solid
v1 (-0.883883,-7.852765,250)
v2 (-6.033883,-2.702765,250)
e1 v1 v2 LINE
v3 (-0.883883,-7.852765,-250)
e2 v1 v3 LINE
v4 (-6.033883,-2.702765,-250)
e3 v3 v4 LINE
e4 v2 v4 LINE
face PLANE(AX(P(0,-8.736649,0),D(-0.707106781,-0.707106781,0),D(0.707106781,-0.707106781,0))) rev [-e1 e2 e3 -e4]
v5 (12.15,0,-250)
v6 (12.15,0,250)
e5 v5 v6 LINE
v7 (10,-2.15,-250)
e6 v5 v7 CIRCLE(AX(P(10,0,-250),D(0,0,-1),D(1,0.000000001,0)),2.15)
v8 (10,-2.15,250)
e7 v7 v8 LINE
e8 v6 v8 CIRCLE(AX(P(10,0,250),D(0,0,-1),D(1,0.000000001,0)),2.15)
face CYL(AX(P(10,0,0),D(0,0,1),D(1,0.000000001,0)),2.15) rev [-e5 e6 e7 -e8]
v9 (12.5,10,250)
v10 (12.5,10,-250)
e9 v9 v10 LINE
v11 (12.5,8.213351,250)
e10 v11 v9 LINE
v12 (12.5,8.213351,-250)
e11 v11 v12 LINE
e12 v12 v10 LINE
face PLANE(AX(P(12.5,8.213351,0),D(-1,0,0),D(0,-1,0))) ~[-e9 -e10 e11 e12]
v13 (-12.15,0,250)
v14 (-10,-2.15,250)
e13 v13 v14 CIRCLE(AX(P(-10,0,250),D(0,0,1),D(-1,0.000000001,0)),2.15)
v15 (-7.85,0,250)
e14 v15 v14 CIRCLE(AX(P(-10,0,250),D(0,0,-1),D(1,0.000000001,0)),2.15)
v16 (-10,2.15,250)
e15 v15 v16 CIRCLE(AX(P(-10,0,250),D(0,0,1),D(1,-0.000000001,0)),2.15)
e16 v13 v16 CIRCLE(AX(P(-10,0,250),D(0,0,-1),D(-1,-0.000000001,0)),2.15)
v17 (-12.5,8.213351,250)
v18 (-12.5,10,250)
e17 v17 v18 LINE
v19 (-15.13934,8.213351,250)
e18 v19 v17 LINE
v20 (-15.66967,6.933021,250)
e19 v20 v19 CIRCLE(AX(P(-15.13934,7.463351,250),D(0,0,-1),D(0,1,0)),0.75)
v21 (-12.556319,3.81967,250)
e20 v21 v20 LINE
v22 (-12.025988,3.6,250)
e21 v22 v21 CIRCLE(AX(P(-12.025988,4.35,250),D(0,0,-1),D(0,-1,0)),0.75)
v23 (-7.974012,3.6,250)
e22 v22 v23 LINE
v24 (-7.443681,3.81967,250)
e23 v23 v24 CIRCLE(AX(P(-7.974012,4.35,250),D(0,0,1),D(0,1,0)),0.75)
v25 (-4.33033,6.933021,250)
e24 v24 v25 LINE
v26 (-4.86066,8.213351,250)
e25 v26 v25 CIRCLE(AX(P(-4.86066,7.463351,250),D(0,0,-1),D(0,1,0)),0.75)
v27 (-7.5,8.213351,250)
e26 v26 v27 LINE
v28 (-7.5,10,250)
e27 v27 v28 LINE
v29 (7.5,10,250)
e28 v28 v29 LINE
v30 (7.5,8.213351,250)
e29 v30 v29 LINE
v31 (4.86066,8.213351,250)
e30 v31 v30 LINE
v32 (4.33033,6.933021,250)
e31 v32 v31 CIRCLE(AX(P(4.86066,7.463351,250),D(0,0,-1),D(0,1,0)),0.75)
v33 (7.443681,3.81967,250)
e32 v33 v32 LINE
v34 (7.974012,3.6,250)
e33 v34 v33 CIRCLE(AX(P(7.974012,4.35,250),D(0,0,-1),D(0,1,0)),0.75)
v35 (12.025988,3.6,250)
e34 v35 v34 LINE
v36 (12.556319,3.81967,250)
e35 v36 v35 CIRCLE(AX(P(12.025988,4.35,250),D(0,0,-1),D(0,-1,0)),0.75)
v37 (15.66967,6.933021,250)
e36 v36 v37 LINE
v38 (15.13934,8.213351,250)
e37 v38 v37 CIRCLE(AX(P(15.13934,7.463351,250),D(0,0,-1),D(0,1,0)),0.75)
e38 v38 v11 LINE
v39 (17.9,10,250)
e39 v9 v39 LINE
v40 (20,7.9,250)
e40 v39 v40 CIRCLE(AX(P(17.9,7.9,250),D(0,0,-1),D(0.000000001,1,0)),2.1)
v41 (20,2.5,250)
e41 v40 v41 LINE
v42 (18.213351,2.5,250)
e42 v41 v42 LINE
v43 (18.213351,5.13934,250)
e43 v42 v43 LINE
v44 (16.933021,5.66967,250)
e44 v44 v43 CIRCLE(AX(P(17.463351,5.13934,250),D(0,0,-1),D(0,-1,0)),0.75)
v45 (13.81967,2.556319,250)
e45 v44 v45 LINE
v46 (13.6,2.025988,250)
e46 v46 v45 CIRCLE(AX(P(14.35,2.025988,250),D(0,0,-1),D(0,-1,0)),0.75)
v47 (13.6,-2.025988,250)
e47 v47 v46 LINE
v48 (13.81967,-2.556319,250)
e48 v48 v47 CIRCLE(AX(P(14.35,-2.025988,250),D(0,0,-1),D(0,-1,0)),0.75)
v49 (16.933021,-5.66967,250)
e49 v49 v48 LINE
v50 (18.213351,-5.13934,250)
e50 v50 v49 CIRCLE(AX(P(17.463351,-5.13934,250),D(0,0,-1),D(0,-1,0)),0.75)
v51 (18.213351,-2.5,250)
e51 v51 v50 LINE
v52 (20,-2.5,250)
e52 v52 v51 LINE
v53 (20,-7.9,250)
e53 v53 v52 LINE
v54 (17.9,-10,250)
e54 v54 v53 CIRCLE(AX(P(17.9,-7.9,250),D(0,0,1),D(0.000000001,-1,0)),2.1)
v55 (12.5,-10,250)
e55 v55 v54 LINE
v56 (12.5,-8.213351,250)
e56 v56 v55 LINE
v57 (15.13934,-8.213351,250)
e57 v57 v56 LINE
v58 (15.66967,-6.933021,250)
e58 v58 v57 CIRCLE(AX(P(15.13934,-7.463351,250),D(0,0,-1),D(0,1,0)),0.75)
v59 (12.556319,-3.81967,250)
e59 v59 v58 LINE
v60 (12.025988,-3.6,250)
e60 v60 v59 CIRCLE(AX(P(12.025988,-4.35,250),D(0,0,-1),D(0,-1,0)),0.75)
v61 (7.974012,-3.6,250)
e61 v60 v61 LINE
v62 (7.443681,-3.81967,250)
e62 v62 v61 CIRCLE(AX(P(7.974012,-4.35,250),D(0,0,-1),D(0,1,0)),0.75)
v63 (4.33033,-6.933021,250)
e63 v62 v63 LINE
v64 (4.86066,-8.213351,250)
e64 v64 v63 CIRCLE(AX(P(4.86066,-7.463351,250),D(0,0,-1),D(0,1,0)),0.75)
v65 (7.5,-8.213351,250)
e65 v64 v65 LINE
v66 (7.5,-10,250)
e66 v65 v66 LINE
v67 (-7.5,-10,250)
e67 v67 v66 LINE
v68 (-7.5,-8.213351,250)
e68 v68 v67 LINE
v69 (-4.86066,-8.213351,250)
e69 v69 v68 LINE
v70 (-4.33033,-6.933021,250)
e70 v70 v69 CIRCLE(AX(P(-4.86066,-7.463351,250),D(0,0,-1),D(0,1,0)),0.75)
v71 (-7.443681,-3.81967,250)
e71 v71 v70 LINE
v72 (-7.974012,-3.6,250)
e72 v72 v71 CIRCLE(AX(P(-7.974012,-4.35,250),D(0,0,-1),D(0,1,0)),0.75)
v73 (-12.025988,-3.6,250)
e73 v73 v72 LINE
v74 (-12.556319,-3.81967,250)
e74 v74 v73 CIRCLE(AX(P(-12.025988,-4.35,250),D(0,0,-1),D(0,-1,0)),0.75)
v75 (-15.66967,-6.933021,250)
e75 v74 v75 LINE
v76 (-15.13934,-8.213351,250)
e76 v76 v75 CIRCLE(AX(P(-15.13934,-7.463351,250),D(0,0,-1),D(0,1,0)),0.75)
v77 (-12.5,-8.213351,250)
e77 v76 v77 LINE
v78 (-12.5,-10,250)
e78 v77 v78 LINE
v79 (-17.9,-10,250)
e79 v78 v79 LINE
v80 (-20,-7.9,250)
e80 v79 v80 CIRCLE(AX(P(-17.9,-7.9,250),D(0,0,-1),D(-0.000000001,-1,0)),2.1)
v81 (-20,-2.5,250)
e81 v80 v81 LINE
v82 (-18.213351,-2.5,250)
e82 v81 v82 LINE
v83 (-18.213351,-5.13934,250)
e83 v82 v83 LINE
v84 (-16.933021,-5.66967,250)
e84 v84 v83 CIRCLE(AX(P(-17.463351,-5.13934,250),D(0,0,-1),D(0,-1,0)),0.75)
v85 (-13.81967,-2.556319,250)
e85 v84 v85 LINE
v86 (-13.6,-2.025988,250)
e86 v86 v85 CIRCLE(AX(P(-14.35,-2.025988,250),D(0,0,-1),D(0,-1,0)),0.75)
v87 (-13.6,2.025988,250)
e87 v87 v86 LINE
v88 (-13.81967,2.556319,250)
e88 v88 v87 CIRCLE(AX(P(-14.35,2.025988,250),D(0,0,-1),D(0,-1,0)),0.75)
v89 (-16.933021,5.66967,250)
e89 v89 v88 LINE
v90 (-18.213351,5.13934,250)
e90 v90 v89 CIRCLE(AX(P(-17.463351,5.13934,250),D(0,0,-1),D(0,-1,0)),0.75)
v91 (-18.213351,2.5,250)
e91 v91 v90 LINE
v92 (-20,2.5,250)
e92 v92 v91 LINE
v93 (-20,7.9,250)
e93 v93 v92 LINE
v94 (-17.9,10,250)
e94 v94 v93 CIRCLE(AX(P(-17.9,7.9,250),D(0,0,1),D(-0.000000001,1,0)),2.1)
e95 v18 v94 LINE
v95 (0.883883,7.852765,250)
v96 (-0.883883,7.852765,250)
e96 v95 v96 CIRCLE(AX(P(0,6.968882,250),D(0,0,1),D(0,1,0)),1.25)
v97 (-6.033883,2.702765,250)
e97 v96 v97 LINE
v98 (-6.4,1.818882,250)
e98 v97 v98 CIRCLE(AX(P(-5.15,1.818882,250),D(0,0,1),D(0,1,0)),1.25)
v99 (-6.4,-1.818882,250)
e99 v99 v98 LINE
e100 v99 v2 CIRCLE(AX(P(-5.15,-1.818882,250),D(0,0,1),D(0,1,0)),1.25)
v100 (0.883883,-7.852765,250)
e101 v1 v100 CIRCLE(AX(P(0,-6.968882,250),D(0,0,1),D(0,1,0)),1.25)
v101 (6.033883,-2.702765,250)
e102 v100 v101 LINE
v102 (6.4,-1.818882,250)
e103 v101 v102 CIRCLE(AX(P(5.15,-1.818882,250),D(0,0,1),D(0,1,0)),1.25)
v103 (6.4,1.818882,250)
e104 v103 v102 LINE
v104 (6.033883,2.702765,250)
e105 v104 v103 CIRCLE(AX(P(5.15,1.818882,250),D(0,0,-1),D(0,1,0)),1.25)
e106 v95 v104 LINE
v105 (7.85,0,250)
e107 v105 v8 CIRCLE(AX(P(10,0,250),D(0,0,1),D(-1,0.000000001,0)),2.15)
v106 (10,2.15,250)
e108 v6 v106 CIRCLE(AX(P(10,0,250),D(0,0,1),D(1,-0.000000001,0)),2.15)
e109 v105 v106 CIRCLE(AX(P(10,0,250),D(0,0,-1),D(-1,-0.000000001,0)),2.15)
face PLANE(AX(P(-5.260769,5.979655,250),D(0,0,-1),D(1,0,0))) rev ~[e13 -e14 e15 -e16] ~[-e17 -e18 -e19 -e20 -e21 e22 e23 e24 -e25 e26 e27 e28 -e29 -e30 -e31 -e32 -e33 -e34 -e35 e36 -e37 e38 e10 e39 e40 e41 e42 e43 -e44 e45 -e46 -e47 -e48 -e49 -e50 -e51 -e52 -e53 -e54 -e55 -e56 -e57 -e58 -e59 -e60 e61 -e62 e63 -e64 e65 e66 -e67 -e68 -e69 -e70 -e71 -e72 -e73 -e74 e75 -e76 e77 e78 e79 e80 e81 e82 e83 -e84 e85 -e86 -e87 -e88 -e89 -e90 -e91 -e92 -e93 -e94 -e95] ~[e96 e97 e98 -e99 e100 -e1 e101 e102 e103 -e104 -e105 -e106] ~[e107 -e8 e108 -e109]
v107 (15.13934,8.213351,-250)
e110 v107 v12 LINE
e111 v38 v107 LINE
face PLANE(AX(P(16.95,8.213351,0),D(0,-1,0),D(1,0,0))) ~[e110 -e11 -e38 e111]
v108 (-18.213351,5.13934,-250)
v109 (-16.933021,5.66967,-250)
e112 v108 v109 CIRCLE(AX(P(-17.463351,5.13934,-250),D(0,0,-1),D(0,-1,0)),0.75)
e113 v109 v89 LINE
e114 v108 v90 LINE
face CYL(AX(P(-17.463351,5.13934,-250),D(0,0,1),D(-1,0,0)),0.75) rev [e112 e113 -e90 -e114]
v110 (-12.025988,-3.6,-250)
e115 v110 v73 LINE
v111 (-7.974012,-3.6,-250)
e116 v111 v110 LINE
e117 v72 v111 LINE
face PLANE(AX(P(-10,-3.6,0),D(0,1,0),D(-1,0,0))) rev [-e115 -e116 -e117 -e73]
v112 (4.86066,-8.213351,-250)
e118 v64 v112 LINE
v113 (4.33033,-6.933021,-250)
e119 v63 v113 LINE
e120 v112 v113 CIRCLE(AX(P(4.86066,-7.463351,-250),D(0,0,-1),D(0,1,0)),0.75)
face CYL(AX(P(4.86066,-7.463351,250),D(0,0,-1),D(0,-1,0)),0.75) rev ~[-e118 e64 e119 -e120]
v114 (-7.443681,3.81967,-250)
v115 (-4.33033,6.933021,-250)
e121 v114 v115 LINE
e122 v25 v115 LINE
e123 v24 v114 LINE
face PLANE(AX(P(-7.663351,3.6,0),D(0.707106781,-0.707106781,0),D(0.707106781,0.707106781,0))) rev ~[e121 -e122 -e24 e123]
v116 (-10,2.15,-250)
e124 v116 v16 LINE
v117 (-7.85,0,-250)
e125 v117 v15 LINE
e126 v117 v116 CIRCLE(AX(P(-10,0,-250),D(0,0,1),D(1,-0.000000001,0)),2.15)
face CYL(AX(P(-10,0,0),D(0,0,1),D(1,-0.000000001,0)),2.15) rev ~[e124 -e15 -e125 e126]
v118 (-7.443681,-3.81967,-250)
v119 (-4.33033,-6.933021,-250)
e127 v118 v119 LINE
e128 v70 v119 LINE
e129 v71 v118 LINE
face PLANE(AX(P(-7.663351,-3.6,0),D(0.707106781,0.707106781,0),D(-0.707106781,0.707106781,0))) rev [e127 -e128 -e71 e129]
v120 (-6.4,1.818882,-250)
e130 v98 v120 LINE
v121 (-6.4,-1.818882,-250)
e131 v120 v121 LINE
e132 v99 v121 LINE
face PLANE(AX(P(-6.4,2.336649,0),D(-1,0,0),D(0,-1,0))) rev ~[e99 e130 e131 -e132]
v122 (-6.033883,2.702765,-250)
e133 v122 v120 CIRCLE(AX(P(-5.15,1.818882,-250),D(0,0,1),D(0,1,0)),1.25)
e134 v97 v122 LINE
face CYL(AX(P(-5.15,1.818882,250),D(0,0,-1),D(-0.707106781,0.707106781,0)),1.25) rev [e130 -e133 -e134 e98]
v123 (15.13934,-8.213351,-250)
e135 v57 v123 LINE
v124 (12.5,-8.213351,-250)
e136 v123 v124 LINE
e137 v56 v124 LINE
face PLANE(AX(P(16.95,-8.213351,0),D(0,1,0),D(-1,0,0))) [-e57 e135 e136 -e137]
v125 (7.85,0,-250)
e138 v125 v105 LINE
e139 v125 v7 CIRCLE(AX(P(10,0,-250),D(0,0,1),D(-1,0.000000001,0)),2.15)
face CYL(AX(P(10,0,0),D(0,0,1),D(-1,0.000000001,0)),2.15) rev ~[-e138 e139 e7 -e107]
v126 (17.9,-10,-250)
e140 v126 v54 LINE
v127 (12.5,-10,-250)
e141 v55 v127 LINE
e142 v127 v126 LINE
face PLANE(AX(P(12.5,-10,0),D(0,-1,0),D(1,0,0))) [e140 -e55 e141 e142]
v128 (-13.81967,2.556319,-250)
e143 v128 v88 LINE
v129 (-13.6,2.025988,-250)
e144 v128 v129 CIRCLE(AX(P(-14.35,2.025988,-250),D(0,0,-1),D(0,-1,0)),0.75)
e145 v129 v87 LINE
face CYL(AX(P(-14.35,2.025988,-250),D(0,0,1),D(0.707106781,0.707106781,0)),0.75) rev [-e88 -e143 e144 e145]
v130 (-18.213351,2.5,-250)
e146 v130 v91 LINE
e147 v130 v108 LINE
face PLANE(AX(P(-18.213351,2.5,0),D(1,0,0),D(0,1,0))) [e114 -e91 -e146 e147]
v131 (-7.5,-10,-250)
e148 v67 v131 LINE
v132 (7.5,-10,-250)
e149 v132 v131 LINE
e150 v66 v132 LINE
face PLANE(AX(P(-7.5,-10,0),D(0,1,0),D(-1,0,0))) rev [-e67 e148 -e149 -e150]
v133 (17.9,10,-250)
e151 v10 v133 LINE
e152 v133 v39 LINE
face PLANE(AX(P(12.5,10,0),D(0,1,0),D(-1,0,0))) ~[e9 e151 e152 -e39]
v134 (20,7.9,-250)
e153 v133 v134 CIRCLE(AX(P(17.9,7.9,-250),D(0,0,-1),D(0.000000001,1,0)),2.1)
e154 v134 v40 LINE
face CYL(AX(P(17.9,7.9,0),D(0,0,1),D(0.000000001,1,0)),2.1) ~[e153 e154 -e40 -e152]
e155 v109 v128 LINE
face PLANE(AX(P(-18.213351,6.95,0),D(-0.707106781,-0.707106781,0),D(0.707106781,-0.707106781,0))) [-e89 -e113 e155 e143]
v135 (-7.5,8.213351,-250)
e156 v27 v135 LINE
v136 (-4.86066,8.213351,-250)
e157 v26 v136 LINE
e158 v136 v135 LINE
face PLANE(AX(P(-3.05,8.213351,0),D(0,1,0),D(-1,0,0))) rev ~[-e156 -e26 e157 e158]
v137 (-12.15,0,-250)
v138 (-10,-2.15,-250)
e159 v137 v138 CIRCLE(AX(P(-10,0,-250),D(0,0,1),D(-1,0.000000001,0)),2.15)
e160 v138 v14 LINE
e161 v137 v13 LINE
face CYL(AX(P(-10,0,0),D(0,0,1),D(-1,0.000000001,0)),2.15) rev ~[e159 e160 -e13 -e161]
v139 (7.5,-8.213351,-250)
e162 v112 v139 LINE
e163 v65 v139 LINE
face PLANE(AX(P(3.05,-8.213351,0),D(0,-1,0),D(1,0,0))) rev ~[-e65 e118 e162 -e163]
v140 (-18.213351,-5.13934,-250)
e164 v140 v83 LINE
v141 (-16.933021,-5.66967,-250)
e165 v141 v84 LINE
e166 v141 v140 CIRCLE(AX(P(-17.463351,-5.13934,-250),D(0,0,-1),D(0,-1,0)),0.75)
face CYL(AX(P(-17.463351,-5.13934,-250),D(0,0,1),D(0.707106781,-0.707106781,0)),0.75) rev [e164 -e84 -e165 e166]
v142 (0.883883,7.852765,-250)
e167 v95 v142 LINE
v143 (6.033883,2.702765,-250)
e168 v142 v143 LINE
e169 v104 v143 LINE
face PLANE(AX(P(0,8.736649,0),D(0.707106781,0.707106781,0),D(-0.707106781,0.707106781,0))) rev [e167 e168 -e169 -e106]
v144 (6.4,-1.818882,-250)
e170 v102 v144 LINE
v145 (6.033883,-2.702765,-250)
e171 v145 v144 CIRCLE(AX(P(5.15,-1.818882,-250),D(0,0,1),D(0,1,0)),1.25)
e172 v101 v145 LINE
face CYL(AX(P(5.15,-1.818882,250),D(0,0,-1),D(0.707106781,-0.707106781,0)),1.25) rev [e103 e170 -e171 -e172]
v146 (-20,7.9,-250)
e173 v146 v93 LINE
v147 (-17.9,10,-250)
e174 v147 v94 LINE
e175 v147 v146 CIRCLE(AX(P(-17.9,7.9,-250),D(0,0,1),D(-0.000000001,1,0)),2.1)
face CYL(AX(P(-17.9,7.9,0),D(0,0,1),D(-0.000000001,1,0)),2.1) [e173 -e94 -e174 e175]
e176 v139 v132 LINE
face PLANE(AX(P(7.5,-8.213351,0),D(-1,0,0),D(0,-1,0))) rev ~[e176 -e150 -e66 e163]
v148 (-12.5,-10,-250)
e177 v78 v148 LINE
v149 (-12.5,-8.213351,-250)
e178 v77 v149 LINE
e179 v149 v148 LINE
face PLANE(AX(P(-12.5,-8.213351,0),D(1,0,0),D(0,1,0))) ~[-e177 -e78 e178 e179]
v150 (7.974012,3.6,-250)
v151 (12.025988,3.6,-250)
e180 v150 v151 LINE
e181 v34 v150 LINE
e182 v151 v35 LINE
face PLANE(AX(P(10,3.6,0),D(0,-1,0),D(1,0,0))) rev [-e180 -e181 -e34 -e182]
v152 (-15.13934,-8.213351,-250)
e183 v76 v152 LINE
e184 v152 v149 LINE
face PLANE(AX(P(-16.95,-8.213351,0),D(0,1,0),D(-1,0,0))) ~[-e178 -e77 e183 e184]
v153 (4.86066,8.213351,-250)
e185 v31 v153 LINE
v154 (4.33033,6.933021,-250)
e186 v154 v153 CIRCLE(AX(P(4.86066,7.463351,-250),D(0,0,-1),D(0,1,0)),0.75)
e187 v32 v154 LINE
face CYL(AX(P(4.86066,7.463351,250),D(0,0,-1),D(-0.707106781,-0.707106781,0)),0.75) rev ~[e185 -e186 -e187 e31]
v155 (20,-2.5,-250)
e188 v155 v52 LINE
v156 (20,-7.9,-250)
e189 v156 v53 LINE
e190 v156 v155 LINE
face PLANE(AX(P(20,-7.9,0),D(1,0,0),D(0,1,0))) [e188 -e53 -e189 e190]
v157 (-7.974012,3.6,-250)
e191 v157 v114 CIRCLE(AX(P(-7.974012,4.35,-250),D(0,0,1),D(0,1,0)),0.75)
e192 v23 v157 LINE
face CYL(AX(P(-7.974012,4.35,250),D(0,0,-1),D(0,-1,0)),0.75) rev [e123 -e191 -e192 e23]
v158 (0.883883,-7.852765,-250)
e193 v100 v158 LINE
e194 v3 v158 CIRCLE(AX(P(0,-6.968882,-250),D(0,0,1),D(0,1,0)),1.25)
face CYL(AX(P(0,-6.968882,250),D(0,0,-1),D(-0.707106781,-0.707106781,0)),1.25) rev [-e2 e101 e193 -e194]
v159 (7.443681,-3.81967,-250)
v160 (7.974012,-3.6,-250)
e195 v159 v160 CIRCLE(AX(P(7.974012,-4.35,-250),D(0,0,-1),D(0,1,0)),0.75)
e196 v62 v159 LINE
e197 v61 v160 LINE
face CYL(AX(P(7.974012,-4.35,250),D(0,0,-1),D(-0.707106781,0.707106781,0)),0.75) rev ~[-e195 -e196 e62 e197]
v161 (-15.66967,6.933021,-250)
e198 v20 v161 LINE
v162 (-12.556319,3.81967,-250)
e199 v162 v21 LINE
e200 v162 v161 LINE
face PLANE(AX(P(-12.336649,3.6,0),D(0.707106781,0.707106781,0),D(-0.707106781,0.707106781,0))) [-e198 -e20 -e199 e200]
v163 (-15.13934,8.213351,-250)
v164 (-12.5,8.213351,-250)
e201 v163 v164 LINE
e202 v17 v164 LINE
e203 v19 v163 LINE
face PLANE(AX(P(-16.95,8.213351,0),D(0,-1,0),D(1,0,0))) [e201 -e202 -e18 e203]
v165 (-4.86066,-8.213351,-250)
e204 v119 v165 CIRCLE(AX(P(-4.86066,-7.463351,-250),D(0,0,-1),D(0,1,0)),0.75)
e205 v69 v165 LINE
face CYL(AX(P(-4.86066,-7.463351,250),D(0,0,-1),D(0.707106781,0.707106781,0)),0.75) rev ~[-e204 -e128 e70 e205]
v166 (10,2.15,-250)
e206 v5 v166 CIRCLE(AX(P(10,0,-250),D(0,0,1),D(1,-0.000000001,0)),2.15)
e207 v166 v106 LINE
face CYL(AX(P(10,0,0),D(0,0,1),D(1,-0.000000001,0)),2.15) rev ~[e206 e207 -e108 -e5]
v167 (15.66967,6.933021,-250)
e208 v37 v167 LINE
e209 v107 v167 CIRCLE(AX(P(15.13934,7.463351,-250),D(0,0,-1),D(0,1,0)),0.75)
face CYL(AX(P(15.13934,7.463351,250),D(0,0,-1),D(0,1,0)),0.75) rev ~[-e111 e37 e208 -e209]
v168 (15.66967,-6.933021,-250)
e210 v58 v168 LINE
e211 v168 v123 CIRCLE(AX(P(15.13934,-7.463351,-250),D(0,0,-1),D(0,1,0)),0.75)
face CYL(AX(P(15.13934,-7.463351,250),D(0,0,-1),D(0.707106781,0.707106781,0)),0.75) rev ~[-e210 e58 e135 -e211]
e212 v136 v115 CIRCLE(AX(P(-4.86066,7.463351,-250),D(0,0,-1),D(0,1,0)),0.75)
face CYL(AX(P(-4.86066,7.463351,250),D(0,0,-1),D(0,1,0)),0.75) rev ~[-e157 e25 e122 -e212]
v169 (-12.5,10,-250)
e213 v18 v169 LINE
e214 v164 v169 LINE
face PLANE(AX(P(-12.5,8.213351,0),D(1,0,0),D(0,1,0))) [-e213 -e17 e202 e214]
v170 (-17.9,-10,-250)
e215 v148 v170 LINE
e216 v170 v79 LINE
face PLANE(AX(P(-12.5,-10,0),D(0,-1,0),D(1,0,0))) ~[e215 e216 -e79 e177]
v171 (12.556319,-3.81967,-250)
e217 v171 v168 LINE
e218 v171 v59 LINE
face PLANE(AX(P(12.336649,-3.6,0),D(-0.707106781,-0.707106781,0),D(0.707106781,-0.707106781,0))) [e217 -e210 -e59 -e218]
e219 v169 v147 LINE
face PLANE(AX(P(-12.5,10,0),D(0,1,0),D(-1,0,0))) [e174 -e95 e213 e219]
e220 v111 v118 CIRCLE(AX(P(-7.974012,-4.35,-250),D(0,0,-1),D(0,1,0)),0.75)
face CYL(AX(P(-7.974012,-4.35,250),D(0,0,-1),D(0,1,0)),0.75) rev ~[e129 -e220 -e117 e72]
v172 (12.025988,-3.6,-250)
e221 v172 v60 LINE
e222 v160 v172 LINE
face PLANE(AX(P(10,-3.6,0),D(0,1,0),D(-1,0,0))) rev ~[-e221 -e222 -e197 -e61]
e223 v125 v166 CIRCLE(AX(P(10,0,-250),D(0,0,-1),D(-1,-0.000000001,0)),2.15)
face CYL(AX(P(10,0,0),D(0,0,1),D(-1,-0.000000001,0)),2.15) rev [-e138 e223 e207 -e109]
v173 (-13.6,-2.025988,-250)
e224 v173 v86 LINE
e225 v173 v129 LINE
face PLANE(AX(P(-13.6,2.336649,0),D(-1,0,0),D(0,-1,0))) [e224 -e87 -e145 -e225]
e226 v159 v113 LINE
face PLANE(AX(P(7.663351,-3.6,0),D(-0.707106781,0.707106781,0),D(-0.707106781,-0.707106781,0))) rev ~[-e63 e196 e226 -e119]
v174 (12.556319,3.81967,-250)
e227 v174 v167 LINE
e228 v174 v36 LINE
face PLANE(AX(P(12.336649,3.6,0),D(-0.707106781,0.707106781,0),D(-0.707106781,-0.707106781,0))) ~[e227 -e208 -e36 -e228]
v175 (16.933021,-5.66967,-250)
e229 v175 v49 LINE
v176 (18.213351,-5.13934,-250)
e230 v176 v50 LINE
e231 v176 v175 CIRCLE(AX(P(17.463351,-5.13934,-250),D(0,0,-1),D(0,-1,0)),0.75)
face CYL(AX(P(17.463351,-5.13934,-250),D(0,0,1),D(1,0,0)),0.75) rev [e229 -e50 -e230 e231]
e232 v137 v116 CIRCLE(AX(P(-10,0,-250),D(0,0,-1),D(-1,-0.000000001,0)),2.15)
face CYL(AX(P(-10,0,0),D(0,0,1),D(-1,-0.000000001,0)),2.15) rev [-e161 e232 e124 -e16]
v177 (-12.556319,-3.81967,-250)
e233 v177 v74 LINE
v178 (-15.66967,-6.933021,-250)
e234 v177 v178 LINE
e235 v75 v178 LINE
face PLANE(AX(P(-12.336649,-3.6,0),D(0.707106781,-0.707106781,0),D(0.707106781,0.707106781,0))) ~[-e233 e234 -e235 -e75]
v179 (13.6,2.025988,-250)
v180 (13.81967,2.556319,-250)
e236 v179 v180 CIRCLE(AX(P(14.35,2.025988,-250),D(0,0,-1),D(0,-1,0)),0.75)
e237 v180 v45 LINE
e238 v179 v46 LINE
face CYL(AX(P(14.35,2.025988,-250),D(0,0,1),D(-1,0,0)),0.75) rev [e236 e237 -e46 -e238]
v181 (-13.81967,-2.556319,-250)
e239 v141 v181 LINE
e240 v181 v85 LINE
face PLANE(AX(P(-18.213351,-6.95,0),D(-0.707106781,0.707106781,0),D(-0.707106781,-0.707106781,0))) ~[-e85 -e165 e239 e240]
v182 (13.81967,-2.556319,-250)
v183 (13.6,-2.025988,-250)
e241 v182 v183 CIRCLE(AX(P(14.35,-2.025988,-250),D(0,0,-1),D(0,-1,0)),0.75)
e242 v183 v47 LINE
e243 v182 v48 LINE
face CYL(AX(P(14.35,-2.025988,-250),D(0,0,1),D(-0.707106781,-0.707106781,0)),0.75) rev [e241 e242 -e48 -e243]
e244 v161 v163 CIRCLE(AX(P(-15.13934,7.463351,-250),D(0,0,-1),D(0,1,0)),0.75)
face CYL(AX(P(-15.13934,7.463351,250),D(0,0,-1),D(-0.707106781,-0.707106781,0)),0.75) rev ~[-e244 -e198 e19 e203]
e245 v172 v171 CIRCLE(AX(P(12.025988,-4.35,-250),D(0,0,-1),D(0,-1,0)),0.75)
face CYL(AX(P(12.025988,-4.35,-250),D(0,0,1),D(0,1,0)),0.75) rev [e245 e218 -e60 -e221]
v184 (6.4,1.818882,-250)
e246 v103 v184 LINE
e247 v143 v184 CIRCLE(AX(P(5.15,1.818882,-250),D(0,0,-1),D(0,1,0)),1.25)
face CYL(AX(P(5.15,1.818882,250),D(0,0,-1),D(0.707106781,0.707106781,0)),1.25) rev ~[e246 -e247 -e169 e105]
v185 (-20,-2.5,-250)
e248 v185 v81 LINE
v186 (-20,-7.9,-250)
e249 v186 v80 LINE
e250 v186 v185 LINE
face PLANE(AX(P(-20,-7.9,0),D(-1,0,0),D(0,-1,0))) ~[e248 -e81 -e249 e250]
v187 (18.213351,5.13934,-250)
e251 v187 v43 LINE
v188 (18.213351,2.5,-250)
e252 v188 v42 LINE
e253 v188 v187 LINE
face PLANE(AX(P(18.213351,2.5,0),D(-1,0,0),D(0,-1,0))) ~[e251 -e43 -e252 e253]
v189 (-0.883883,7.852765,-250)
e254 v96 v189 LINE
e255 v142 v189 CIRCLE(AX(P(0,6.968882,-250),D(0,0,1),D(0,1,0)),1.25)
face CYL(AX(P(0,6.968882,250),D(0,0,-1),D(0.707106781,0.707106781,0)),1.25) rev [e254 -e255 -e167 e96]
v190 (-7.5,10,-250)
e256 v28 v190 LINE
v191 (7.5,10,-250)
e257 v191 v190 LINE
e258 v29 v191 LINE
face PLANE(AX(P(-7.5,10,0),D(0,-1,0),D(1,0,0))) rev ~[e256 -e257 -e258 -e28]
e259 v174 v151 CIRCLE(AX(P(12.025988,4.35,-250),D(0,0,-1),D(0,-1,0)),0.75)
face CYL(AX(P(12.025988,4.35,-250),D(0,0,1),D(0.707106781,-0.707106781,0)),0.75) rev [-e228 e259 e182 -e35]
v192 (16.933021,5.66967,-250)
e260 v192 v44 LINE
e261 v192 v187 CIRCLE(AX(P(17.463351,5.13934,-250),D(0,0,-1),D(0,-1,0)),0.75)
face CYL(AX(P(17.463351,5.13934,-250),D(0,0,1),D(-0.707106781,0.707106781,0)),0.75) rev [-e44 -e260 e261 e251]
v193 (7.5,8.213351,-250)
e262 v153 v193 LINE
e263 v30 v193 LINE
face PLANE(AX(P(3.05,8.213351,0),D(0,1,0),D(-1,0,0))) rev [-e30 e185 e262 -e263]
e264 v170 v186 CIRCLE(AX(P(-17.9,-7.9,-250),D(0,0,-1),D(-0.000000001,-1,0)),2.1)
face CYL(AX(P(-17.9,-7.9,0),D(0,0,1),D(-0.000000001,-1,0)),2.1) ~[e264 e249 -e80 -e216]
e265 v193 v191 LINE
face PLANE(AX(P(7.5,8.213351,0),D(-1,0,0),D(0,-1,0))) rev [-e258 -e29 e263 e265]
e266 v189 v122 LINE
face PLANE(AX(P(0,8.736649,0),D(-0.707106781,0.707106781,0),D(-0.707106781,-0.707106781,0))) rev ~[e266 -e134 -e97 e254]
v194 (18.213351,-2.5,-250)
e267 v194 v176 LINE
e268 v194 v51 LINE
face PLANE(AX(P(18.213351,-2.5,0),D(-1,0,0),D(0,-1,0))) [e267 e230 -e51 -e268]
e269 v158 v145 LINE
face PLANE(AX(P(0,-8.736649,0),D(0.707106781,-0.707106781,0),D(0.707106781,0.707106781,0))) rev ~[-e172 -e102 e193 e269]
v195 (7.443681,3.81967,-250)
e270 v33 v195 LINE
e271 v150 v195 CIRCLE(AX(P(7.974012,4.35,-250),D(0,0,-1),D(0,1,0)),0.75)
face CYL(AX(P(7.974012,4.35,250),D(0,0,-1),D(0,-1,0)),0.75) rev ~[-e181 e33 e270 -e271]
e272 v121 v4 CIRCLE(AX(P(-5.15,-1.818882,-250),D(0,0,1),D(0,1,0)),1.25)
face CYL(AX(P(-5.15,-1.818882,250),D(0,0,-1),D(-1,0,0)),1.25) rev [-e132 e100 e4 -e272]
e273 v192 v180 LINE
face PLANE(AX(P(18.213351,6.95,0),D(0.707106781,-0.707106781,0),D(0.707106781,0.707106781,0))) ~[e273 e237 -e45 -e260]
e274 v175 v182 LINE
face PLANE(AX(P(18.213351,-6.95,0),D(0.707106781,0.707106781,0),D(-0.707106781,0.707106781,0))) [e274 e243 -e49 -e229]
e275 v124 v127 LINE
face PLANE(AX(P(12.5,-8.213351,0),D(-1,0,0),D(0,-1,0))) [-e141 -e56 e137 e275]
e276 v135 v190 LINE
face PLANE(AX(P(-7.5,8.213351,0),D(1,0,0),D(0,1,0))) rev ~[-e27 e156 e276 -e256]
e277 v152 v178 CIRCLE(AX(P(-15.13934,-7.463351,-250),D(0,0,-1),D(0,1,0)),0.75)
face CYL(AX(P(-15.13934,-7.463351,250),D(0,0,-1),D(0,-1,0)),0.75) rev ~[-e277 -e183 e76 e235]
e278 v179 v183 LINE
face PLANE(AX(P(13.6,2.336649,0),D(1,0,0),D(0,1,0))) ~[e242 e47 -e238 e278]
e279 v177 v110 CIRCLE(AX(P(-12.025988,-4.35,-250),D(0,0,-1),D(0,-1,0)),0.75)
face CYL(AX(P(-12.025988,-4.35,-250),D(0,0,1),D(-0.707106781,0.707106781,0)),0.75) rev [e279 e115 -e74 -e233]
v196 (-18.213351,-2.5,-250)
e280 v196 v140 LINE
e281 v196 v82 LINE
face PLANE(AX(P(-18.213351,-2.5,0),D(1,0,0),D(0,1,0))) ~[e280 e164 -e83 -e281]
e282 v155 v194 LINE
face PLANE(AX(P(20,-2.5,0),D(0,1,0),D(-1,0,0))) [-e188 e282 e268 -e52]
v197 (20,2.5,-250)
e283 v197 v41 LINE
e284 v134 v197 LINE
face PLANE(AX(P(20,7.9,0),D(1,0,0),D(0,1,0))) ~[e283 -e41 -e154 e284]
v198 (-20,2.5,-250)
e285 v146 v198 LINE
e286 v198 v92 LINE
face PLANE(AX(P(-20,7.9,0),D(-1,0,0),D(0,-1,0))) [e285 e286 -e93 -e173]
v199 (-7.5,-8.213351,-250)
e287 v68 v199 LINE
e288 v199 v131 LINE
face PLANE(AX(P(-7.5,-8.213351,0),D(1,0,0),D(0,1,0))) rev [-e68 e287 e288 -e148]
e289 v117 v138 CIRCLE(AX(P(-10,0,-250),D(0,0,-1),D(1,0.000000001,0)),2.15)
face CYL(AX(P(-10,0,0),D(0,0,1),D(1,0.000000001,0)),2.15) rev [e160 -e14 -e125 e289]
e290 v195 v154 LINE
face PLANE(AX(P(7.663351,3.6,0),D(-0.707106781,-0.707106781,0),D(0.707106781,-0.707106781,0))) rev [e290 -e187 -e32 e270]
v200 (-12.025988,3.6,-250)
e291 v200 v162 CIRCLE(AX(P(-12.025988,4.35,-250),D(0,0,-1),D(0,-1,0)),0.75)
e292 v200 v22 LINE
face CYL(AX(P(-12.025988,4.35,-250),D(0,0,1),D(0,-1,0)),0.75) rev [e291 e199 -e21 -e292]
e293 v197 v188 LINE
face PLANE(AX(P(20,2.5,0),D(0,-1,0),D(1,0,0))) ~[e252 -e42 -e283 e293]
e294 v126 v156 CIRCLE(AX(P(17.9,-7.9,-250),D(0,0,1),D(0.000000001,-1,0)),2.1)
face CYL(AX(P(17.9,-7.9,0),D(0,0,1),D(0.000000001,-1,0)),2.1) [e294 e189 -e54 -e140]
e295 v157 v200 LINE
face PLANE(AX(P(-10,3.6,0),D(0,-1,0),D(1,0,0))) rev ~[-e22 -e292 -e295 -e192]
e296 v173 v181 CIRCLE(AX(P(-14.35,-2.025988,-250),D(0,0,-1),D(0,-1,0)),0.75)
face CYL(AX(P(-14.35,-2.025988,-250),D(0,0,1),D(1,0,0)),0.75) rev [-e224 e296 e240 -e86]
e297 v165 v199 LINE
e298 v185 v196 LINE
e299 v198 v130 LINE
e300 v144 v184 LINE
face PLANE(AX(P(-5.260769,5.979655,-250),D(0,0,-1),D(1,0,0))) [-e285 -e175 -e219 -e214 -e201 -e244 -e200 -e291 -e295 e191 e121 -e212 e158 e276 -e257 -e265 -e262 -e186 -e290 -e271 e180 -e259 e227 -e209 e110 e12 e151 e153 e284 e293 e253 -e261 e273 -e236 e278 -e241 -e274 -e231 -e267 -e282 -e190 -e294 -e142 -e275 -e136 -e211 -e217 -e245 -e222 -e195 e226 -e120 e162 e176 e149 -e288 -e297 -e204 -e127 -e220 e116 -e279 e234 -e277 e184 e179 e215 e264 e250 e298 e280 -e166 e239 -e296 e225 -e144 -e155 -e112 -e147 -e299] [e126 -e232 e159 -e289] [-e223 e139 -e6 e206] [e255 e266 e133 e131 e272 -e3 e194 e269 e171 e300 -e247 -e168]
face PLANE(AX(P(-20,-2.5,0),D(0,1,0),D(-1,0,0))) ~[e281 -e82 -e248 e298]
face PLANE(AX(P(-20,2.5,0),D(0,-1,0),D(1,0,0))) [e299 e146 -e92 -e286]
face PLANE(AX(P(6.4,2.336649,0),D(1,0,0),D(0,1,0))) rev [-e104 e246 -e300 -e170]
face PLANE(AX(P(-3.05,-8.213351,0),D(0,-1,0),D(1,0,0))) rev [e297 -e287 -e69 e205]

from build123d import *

# Parameters (mm, degrees)
BOSS_EXTRUDE1_DEPTH = 250
BOSS_EXTRUDE2_DEPTH = 250
FILLET1_R           = 0.75
FILLET2_R           = 1.25


with BuildPart() as part:
    # Sketch3 → Boss-Extrude1 (new, symmetric)
    with BuildSketch(Plane.XY):
        with BuildLine():
            Line((12.5, -10), (17.9, -10))
            ThreePointArc((17.9, -10), (19.38492424, -9.38492424), (20, -7.9))
            Line((20, -7.9), (20, -2.5))
            Line((20, -2.5), (18.213351365, -2.5))
            Line((18.213351365, -2.5), (18.213351365, -6.95))
            Line((18.213351365, -6.95), (13.6, -2.336648635))
            Line((13.6, -2.336648635), (13.6, 0))
            Line((13.6, 0), (12.15, 0))
            ThreePointArc((12.15, 0), (11.52027958, -1.52027958), (10, -2.15))
            Line((10, -2.15), (10, -3.6))
            Line((10, -3.6), (12.336648635, -3.6))
            Line((12.336648635, -3.6), (16.95, -8.213351365))
            Line((16.95, -8.213351365), (12.5, -8.213351365))
            Line((12.5, -8.213351365), (12.5, -10))
        make_face()
    extrude(amount=BOSS_EXTRUDE1_DEPTH, both=True)

    # Sketch4 → Boss-Extrude2 (add, symmetric)
    with BuildSketch(Plane.XY):
        with BuildLine():
            Line((10, -3.6), (7.663351365, -3.6))
            Line((7.663351365, -3.6), (3.05, -8.213351365))
            Line((3.05, -8.213351365), (7.5, -8.213351365))
            Line((7.5, -8.213351365), (7.5, -10))
            Line((7.5, -10), (0, -10))
            Line((0, -10), (0, -8.736648635))
            Line((0, -8.736648635), (6.4, -2.336648635))
            Line((6.4, -2.336648635), (6.4, 0))
            Line((6.4, 0), (7.85, 0))
            ThreePointArc((7.85, 0), (8.47972042, -1.52027958), (10, -2.15))
            Line((10, -2.15), (10, -3.6))
        make_face()
    extrude(amount=BOSS_EXTRUDE2_DEPTH, both=True)

    # Mirror1: part across plane


with BuildPart() as part_1:
    add(part.part)
    add(part.part.mirror(Plane(origin=(0, 0, 0), x_dir=(0, 0, 1), z_dir=(1, 0, 0))))

    # Mirror2: part across plane


with BuildPart() as part_2:
    add(part_1.part)
    add(part_1.part.mirror(Plane.ZX))

    # Fillet1
    fillet1_edges = [part_2.edges().sort_by_distance(p)[0] for p in [
        (18.213351365, 6.95, 0),
        (13.6, 2.336648635, 0),
        (12.336648635, 3.6, 0),
        (16.95, 8.213351365, 0),
        (3.05, 8.213351365, 0),
        (7.663351365, 3.6, 0),
        (-18.213351365, 6.95, 0),
        (-13.6, 2.336648635, 0),
        (-7.663351365, 3.6, 0),
        (-12.336648635, 3.6, 0),
        (-16.95, 8.213351365, 0),
        (-3.05, 8.213351365, 0),
        (16.95, -8.213351365, 0),
        (12.336648635, -3.6, 0),
        (13.6, -2.336648635, 0),
        (18.213351365, -6.95, 0),
        (3.05, -8.213351365, 0),
        (7.663351365, -3.6, 0),
        (-18.213351365, -6.95, 0),
        (-13.6, -2.336648635, 0),
        (-12.336648635, -3.6, 0),
        (-16.95, -8.213351365, 0),
        (-3.05, -8.213351365, 0),
        (-7.663351365, -3.6, 0),
    ]]
    fillet(fillet1_edges, radius=FILLET1_R)

    # Fillet2
    fillet2_edges = [part_2.edges().sort_by_distance(p)[0] for p in [
        (6.4, 2.336648635, 0),
        (0, 8.736648635, 0),
        (-6.4, 2.336648635, 0),
        (6.4, -2.336648635, 0),
        (-6.4, -2.336648635, 0),
        (0, -8.736648635, 0),
    ]]
    fillet(fillet2_edges, radius=FILLET2_R)


solid = part_2.part
